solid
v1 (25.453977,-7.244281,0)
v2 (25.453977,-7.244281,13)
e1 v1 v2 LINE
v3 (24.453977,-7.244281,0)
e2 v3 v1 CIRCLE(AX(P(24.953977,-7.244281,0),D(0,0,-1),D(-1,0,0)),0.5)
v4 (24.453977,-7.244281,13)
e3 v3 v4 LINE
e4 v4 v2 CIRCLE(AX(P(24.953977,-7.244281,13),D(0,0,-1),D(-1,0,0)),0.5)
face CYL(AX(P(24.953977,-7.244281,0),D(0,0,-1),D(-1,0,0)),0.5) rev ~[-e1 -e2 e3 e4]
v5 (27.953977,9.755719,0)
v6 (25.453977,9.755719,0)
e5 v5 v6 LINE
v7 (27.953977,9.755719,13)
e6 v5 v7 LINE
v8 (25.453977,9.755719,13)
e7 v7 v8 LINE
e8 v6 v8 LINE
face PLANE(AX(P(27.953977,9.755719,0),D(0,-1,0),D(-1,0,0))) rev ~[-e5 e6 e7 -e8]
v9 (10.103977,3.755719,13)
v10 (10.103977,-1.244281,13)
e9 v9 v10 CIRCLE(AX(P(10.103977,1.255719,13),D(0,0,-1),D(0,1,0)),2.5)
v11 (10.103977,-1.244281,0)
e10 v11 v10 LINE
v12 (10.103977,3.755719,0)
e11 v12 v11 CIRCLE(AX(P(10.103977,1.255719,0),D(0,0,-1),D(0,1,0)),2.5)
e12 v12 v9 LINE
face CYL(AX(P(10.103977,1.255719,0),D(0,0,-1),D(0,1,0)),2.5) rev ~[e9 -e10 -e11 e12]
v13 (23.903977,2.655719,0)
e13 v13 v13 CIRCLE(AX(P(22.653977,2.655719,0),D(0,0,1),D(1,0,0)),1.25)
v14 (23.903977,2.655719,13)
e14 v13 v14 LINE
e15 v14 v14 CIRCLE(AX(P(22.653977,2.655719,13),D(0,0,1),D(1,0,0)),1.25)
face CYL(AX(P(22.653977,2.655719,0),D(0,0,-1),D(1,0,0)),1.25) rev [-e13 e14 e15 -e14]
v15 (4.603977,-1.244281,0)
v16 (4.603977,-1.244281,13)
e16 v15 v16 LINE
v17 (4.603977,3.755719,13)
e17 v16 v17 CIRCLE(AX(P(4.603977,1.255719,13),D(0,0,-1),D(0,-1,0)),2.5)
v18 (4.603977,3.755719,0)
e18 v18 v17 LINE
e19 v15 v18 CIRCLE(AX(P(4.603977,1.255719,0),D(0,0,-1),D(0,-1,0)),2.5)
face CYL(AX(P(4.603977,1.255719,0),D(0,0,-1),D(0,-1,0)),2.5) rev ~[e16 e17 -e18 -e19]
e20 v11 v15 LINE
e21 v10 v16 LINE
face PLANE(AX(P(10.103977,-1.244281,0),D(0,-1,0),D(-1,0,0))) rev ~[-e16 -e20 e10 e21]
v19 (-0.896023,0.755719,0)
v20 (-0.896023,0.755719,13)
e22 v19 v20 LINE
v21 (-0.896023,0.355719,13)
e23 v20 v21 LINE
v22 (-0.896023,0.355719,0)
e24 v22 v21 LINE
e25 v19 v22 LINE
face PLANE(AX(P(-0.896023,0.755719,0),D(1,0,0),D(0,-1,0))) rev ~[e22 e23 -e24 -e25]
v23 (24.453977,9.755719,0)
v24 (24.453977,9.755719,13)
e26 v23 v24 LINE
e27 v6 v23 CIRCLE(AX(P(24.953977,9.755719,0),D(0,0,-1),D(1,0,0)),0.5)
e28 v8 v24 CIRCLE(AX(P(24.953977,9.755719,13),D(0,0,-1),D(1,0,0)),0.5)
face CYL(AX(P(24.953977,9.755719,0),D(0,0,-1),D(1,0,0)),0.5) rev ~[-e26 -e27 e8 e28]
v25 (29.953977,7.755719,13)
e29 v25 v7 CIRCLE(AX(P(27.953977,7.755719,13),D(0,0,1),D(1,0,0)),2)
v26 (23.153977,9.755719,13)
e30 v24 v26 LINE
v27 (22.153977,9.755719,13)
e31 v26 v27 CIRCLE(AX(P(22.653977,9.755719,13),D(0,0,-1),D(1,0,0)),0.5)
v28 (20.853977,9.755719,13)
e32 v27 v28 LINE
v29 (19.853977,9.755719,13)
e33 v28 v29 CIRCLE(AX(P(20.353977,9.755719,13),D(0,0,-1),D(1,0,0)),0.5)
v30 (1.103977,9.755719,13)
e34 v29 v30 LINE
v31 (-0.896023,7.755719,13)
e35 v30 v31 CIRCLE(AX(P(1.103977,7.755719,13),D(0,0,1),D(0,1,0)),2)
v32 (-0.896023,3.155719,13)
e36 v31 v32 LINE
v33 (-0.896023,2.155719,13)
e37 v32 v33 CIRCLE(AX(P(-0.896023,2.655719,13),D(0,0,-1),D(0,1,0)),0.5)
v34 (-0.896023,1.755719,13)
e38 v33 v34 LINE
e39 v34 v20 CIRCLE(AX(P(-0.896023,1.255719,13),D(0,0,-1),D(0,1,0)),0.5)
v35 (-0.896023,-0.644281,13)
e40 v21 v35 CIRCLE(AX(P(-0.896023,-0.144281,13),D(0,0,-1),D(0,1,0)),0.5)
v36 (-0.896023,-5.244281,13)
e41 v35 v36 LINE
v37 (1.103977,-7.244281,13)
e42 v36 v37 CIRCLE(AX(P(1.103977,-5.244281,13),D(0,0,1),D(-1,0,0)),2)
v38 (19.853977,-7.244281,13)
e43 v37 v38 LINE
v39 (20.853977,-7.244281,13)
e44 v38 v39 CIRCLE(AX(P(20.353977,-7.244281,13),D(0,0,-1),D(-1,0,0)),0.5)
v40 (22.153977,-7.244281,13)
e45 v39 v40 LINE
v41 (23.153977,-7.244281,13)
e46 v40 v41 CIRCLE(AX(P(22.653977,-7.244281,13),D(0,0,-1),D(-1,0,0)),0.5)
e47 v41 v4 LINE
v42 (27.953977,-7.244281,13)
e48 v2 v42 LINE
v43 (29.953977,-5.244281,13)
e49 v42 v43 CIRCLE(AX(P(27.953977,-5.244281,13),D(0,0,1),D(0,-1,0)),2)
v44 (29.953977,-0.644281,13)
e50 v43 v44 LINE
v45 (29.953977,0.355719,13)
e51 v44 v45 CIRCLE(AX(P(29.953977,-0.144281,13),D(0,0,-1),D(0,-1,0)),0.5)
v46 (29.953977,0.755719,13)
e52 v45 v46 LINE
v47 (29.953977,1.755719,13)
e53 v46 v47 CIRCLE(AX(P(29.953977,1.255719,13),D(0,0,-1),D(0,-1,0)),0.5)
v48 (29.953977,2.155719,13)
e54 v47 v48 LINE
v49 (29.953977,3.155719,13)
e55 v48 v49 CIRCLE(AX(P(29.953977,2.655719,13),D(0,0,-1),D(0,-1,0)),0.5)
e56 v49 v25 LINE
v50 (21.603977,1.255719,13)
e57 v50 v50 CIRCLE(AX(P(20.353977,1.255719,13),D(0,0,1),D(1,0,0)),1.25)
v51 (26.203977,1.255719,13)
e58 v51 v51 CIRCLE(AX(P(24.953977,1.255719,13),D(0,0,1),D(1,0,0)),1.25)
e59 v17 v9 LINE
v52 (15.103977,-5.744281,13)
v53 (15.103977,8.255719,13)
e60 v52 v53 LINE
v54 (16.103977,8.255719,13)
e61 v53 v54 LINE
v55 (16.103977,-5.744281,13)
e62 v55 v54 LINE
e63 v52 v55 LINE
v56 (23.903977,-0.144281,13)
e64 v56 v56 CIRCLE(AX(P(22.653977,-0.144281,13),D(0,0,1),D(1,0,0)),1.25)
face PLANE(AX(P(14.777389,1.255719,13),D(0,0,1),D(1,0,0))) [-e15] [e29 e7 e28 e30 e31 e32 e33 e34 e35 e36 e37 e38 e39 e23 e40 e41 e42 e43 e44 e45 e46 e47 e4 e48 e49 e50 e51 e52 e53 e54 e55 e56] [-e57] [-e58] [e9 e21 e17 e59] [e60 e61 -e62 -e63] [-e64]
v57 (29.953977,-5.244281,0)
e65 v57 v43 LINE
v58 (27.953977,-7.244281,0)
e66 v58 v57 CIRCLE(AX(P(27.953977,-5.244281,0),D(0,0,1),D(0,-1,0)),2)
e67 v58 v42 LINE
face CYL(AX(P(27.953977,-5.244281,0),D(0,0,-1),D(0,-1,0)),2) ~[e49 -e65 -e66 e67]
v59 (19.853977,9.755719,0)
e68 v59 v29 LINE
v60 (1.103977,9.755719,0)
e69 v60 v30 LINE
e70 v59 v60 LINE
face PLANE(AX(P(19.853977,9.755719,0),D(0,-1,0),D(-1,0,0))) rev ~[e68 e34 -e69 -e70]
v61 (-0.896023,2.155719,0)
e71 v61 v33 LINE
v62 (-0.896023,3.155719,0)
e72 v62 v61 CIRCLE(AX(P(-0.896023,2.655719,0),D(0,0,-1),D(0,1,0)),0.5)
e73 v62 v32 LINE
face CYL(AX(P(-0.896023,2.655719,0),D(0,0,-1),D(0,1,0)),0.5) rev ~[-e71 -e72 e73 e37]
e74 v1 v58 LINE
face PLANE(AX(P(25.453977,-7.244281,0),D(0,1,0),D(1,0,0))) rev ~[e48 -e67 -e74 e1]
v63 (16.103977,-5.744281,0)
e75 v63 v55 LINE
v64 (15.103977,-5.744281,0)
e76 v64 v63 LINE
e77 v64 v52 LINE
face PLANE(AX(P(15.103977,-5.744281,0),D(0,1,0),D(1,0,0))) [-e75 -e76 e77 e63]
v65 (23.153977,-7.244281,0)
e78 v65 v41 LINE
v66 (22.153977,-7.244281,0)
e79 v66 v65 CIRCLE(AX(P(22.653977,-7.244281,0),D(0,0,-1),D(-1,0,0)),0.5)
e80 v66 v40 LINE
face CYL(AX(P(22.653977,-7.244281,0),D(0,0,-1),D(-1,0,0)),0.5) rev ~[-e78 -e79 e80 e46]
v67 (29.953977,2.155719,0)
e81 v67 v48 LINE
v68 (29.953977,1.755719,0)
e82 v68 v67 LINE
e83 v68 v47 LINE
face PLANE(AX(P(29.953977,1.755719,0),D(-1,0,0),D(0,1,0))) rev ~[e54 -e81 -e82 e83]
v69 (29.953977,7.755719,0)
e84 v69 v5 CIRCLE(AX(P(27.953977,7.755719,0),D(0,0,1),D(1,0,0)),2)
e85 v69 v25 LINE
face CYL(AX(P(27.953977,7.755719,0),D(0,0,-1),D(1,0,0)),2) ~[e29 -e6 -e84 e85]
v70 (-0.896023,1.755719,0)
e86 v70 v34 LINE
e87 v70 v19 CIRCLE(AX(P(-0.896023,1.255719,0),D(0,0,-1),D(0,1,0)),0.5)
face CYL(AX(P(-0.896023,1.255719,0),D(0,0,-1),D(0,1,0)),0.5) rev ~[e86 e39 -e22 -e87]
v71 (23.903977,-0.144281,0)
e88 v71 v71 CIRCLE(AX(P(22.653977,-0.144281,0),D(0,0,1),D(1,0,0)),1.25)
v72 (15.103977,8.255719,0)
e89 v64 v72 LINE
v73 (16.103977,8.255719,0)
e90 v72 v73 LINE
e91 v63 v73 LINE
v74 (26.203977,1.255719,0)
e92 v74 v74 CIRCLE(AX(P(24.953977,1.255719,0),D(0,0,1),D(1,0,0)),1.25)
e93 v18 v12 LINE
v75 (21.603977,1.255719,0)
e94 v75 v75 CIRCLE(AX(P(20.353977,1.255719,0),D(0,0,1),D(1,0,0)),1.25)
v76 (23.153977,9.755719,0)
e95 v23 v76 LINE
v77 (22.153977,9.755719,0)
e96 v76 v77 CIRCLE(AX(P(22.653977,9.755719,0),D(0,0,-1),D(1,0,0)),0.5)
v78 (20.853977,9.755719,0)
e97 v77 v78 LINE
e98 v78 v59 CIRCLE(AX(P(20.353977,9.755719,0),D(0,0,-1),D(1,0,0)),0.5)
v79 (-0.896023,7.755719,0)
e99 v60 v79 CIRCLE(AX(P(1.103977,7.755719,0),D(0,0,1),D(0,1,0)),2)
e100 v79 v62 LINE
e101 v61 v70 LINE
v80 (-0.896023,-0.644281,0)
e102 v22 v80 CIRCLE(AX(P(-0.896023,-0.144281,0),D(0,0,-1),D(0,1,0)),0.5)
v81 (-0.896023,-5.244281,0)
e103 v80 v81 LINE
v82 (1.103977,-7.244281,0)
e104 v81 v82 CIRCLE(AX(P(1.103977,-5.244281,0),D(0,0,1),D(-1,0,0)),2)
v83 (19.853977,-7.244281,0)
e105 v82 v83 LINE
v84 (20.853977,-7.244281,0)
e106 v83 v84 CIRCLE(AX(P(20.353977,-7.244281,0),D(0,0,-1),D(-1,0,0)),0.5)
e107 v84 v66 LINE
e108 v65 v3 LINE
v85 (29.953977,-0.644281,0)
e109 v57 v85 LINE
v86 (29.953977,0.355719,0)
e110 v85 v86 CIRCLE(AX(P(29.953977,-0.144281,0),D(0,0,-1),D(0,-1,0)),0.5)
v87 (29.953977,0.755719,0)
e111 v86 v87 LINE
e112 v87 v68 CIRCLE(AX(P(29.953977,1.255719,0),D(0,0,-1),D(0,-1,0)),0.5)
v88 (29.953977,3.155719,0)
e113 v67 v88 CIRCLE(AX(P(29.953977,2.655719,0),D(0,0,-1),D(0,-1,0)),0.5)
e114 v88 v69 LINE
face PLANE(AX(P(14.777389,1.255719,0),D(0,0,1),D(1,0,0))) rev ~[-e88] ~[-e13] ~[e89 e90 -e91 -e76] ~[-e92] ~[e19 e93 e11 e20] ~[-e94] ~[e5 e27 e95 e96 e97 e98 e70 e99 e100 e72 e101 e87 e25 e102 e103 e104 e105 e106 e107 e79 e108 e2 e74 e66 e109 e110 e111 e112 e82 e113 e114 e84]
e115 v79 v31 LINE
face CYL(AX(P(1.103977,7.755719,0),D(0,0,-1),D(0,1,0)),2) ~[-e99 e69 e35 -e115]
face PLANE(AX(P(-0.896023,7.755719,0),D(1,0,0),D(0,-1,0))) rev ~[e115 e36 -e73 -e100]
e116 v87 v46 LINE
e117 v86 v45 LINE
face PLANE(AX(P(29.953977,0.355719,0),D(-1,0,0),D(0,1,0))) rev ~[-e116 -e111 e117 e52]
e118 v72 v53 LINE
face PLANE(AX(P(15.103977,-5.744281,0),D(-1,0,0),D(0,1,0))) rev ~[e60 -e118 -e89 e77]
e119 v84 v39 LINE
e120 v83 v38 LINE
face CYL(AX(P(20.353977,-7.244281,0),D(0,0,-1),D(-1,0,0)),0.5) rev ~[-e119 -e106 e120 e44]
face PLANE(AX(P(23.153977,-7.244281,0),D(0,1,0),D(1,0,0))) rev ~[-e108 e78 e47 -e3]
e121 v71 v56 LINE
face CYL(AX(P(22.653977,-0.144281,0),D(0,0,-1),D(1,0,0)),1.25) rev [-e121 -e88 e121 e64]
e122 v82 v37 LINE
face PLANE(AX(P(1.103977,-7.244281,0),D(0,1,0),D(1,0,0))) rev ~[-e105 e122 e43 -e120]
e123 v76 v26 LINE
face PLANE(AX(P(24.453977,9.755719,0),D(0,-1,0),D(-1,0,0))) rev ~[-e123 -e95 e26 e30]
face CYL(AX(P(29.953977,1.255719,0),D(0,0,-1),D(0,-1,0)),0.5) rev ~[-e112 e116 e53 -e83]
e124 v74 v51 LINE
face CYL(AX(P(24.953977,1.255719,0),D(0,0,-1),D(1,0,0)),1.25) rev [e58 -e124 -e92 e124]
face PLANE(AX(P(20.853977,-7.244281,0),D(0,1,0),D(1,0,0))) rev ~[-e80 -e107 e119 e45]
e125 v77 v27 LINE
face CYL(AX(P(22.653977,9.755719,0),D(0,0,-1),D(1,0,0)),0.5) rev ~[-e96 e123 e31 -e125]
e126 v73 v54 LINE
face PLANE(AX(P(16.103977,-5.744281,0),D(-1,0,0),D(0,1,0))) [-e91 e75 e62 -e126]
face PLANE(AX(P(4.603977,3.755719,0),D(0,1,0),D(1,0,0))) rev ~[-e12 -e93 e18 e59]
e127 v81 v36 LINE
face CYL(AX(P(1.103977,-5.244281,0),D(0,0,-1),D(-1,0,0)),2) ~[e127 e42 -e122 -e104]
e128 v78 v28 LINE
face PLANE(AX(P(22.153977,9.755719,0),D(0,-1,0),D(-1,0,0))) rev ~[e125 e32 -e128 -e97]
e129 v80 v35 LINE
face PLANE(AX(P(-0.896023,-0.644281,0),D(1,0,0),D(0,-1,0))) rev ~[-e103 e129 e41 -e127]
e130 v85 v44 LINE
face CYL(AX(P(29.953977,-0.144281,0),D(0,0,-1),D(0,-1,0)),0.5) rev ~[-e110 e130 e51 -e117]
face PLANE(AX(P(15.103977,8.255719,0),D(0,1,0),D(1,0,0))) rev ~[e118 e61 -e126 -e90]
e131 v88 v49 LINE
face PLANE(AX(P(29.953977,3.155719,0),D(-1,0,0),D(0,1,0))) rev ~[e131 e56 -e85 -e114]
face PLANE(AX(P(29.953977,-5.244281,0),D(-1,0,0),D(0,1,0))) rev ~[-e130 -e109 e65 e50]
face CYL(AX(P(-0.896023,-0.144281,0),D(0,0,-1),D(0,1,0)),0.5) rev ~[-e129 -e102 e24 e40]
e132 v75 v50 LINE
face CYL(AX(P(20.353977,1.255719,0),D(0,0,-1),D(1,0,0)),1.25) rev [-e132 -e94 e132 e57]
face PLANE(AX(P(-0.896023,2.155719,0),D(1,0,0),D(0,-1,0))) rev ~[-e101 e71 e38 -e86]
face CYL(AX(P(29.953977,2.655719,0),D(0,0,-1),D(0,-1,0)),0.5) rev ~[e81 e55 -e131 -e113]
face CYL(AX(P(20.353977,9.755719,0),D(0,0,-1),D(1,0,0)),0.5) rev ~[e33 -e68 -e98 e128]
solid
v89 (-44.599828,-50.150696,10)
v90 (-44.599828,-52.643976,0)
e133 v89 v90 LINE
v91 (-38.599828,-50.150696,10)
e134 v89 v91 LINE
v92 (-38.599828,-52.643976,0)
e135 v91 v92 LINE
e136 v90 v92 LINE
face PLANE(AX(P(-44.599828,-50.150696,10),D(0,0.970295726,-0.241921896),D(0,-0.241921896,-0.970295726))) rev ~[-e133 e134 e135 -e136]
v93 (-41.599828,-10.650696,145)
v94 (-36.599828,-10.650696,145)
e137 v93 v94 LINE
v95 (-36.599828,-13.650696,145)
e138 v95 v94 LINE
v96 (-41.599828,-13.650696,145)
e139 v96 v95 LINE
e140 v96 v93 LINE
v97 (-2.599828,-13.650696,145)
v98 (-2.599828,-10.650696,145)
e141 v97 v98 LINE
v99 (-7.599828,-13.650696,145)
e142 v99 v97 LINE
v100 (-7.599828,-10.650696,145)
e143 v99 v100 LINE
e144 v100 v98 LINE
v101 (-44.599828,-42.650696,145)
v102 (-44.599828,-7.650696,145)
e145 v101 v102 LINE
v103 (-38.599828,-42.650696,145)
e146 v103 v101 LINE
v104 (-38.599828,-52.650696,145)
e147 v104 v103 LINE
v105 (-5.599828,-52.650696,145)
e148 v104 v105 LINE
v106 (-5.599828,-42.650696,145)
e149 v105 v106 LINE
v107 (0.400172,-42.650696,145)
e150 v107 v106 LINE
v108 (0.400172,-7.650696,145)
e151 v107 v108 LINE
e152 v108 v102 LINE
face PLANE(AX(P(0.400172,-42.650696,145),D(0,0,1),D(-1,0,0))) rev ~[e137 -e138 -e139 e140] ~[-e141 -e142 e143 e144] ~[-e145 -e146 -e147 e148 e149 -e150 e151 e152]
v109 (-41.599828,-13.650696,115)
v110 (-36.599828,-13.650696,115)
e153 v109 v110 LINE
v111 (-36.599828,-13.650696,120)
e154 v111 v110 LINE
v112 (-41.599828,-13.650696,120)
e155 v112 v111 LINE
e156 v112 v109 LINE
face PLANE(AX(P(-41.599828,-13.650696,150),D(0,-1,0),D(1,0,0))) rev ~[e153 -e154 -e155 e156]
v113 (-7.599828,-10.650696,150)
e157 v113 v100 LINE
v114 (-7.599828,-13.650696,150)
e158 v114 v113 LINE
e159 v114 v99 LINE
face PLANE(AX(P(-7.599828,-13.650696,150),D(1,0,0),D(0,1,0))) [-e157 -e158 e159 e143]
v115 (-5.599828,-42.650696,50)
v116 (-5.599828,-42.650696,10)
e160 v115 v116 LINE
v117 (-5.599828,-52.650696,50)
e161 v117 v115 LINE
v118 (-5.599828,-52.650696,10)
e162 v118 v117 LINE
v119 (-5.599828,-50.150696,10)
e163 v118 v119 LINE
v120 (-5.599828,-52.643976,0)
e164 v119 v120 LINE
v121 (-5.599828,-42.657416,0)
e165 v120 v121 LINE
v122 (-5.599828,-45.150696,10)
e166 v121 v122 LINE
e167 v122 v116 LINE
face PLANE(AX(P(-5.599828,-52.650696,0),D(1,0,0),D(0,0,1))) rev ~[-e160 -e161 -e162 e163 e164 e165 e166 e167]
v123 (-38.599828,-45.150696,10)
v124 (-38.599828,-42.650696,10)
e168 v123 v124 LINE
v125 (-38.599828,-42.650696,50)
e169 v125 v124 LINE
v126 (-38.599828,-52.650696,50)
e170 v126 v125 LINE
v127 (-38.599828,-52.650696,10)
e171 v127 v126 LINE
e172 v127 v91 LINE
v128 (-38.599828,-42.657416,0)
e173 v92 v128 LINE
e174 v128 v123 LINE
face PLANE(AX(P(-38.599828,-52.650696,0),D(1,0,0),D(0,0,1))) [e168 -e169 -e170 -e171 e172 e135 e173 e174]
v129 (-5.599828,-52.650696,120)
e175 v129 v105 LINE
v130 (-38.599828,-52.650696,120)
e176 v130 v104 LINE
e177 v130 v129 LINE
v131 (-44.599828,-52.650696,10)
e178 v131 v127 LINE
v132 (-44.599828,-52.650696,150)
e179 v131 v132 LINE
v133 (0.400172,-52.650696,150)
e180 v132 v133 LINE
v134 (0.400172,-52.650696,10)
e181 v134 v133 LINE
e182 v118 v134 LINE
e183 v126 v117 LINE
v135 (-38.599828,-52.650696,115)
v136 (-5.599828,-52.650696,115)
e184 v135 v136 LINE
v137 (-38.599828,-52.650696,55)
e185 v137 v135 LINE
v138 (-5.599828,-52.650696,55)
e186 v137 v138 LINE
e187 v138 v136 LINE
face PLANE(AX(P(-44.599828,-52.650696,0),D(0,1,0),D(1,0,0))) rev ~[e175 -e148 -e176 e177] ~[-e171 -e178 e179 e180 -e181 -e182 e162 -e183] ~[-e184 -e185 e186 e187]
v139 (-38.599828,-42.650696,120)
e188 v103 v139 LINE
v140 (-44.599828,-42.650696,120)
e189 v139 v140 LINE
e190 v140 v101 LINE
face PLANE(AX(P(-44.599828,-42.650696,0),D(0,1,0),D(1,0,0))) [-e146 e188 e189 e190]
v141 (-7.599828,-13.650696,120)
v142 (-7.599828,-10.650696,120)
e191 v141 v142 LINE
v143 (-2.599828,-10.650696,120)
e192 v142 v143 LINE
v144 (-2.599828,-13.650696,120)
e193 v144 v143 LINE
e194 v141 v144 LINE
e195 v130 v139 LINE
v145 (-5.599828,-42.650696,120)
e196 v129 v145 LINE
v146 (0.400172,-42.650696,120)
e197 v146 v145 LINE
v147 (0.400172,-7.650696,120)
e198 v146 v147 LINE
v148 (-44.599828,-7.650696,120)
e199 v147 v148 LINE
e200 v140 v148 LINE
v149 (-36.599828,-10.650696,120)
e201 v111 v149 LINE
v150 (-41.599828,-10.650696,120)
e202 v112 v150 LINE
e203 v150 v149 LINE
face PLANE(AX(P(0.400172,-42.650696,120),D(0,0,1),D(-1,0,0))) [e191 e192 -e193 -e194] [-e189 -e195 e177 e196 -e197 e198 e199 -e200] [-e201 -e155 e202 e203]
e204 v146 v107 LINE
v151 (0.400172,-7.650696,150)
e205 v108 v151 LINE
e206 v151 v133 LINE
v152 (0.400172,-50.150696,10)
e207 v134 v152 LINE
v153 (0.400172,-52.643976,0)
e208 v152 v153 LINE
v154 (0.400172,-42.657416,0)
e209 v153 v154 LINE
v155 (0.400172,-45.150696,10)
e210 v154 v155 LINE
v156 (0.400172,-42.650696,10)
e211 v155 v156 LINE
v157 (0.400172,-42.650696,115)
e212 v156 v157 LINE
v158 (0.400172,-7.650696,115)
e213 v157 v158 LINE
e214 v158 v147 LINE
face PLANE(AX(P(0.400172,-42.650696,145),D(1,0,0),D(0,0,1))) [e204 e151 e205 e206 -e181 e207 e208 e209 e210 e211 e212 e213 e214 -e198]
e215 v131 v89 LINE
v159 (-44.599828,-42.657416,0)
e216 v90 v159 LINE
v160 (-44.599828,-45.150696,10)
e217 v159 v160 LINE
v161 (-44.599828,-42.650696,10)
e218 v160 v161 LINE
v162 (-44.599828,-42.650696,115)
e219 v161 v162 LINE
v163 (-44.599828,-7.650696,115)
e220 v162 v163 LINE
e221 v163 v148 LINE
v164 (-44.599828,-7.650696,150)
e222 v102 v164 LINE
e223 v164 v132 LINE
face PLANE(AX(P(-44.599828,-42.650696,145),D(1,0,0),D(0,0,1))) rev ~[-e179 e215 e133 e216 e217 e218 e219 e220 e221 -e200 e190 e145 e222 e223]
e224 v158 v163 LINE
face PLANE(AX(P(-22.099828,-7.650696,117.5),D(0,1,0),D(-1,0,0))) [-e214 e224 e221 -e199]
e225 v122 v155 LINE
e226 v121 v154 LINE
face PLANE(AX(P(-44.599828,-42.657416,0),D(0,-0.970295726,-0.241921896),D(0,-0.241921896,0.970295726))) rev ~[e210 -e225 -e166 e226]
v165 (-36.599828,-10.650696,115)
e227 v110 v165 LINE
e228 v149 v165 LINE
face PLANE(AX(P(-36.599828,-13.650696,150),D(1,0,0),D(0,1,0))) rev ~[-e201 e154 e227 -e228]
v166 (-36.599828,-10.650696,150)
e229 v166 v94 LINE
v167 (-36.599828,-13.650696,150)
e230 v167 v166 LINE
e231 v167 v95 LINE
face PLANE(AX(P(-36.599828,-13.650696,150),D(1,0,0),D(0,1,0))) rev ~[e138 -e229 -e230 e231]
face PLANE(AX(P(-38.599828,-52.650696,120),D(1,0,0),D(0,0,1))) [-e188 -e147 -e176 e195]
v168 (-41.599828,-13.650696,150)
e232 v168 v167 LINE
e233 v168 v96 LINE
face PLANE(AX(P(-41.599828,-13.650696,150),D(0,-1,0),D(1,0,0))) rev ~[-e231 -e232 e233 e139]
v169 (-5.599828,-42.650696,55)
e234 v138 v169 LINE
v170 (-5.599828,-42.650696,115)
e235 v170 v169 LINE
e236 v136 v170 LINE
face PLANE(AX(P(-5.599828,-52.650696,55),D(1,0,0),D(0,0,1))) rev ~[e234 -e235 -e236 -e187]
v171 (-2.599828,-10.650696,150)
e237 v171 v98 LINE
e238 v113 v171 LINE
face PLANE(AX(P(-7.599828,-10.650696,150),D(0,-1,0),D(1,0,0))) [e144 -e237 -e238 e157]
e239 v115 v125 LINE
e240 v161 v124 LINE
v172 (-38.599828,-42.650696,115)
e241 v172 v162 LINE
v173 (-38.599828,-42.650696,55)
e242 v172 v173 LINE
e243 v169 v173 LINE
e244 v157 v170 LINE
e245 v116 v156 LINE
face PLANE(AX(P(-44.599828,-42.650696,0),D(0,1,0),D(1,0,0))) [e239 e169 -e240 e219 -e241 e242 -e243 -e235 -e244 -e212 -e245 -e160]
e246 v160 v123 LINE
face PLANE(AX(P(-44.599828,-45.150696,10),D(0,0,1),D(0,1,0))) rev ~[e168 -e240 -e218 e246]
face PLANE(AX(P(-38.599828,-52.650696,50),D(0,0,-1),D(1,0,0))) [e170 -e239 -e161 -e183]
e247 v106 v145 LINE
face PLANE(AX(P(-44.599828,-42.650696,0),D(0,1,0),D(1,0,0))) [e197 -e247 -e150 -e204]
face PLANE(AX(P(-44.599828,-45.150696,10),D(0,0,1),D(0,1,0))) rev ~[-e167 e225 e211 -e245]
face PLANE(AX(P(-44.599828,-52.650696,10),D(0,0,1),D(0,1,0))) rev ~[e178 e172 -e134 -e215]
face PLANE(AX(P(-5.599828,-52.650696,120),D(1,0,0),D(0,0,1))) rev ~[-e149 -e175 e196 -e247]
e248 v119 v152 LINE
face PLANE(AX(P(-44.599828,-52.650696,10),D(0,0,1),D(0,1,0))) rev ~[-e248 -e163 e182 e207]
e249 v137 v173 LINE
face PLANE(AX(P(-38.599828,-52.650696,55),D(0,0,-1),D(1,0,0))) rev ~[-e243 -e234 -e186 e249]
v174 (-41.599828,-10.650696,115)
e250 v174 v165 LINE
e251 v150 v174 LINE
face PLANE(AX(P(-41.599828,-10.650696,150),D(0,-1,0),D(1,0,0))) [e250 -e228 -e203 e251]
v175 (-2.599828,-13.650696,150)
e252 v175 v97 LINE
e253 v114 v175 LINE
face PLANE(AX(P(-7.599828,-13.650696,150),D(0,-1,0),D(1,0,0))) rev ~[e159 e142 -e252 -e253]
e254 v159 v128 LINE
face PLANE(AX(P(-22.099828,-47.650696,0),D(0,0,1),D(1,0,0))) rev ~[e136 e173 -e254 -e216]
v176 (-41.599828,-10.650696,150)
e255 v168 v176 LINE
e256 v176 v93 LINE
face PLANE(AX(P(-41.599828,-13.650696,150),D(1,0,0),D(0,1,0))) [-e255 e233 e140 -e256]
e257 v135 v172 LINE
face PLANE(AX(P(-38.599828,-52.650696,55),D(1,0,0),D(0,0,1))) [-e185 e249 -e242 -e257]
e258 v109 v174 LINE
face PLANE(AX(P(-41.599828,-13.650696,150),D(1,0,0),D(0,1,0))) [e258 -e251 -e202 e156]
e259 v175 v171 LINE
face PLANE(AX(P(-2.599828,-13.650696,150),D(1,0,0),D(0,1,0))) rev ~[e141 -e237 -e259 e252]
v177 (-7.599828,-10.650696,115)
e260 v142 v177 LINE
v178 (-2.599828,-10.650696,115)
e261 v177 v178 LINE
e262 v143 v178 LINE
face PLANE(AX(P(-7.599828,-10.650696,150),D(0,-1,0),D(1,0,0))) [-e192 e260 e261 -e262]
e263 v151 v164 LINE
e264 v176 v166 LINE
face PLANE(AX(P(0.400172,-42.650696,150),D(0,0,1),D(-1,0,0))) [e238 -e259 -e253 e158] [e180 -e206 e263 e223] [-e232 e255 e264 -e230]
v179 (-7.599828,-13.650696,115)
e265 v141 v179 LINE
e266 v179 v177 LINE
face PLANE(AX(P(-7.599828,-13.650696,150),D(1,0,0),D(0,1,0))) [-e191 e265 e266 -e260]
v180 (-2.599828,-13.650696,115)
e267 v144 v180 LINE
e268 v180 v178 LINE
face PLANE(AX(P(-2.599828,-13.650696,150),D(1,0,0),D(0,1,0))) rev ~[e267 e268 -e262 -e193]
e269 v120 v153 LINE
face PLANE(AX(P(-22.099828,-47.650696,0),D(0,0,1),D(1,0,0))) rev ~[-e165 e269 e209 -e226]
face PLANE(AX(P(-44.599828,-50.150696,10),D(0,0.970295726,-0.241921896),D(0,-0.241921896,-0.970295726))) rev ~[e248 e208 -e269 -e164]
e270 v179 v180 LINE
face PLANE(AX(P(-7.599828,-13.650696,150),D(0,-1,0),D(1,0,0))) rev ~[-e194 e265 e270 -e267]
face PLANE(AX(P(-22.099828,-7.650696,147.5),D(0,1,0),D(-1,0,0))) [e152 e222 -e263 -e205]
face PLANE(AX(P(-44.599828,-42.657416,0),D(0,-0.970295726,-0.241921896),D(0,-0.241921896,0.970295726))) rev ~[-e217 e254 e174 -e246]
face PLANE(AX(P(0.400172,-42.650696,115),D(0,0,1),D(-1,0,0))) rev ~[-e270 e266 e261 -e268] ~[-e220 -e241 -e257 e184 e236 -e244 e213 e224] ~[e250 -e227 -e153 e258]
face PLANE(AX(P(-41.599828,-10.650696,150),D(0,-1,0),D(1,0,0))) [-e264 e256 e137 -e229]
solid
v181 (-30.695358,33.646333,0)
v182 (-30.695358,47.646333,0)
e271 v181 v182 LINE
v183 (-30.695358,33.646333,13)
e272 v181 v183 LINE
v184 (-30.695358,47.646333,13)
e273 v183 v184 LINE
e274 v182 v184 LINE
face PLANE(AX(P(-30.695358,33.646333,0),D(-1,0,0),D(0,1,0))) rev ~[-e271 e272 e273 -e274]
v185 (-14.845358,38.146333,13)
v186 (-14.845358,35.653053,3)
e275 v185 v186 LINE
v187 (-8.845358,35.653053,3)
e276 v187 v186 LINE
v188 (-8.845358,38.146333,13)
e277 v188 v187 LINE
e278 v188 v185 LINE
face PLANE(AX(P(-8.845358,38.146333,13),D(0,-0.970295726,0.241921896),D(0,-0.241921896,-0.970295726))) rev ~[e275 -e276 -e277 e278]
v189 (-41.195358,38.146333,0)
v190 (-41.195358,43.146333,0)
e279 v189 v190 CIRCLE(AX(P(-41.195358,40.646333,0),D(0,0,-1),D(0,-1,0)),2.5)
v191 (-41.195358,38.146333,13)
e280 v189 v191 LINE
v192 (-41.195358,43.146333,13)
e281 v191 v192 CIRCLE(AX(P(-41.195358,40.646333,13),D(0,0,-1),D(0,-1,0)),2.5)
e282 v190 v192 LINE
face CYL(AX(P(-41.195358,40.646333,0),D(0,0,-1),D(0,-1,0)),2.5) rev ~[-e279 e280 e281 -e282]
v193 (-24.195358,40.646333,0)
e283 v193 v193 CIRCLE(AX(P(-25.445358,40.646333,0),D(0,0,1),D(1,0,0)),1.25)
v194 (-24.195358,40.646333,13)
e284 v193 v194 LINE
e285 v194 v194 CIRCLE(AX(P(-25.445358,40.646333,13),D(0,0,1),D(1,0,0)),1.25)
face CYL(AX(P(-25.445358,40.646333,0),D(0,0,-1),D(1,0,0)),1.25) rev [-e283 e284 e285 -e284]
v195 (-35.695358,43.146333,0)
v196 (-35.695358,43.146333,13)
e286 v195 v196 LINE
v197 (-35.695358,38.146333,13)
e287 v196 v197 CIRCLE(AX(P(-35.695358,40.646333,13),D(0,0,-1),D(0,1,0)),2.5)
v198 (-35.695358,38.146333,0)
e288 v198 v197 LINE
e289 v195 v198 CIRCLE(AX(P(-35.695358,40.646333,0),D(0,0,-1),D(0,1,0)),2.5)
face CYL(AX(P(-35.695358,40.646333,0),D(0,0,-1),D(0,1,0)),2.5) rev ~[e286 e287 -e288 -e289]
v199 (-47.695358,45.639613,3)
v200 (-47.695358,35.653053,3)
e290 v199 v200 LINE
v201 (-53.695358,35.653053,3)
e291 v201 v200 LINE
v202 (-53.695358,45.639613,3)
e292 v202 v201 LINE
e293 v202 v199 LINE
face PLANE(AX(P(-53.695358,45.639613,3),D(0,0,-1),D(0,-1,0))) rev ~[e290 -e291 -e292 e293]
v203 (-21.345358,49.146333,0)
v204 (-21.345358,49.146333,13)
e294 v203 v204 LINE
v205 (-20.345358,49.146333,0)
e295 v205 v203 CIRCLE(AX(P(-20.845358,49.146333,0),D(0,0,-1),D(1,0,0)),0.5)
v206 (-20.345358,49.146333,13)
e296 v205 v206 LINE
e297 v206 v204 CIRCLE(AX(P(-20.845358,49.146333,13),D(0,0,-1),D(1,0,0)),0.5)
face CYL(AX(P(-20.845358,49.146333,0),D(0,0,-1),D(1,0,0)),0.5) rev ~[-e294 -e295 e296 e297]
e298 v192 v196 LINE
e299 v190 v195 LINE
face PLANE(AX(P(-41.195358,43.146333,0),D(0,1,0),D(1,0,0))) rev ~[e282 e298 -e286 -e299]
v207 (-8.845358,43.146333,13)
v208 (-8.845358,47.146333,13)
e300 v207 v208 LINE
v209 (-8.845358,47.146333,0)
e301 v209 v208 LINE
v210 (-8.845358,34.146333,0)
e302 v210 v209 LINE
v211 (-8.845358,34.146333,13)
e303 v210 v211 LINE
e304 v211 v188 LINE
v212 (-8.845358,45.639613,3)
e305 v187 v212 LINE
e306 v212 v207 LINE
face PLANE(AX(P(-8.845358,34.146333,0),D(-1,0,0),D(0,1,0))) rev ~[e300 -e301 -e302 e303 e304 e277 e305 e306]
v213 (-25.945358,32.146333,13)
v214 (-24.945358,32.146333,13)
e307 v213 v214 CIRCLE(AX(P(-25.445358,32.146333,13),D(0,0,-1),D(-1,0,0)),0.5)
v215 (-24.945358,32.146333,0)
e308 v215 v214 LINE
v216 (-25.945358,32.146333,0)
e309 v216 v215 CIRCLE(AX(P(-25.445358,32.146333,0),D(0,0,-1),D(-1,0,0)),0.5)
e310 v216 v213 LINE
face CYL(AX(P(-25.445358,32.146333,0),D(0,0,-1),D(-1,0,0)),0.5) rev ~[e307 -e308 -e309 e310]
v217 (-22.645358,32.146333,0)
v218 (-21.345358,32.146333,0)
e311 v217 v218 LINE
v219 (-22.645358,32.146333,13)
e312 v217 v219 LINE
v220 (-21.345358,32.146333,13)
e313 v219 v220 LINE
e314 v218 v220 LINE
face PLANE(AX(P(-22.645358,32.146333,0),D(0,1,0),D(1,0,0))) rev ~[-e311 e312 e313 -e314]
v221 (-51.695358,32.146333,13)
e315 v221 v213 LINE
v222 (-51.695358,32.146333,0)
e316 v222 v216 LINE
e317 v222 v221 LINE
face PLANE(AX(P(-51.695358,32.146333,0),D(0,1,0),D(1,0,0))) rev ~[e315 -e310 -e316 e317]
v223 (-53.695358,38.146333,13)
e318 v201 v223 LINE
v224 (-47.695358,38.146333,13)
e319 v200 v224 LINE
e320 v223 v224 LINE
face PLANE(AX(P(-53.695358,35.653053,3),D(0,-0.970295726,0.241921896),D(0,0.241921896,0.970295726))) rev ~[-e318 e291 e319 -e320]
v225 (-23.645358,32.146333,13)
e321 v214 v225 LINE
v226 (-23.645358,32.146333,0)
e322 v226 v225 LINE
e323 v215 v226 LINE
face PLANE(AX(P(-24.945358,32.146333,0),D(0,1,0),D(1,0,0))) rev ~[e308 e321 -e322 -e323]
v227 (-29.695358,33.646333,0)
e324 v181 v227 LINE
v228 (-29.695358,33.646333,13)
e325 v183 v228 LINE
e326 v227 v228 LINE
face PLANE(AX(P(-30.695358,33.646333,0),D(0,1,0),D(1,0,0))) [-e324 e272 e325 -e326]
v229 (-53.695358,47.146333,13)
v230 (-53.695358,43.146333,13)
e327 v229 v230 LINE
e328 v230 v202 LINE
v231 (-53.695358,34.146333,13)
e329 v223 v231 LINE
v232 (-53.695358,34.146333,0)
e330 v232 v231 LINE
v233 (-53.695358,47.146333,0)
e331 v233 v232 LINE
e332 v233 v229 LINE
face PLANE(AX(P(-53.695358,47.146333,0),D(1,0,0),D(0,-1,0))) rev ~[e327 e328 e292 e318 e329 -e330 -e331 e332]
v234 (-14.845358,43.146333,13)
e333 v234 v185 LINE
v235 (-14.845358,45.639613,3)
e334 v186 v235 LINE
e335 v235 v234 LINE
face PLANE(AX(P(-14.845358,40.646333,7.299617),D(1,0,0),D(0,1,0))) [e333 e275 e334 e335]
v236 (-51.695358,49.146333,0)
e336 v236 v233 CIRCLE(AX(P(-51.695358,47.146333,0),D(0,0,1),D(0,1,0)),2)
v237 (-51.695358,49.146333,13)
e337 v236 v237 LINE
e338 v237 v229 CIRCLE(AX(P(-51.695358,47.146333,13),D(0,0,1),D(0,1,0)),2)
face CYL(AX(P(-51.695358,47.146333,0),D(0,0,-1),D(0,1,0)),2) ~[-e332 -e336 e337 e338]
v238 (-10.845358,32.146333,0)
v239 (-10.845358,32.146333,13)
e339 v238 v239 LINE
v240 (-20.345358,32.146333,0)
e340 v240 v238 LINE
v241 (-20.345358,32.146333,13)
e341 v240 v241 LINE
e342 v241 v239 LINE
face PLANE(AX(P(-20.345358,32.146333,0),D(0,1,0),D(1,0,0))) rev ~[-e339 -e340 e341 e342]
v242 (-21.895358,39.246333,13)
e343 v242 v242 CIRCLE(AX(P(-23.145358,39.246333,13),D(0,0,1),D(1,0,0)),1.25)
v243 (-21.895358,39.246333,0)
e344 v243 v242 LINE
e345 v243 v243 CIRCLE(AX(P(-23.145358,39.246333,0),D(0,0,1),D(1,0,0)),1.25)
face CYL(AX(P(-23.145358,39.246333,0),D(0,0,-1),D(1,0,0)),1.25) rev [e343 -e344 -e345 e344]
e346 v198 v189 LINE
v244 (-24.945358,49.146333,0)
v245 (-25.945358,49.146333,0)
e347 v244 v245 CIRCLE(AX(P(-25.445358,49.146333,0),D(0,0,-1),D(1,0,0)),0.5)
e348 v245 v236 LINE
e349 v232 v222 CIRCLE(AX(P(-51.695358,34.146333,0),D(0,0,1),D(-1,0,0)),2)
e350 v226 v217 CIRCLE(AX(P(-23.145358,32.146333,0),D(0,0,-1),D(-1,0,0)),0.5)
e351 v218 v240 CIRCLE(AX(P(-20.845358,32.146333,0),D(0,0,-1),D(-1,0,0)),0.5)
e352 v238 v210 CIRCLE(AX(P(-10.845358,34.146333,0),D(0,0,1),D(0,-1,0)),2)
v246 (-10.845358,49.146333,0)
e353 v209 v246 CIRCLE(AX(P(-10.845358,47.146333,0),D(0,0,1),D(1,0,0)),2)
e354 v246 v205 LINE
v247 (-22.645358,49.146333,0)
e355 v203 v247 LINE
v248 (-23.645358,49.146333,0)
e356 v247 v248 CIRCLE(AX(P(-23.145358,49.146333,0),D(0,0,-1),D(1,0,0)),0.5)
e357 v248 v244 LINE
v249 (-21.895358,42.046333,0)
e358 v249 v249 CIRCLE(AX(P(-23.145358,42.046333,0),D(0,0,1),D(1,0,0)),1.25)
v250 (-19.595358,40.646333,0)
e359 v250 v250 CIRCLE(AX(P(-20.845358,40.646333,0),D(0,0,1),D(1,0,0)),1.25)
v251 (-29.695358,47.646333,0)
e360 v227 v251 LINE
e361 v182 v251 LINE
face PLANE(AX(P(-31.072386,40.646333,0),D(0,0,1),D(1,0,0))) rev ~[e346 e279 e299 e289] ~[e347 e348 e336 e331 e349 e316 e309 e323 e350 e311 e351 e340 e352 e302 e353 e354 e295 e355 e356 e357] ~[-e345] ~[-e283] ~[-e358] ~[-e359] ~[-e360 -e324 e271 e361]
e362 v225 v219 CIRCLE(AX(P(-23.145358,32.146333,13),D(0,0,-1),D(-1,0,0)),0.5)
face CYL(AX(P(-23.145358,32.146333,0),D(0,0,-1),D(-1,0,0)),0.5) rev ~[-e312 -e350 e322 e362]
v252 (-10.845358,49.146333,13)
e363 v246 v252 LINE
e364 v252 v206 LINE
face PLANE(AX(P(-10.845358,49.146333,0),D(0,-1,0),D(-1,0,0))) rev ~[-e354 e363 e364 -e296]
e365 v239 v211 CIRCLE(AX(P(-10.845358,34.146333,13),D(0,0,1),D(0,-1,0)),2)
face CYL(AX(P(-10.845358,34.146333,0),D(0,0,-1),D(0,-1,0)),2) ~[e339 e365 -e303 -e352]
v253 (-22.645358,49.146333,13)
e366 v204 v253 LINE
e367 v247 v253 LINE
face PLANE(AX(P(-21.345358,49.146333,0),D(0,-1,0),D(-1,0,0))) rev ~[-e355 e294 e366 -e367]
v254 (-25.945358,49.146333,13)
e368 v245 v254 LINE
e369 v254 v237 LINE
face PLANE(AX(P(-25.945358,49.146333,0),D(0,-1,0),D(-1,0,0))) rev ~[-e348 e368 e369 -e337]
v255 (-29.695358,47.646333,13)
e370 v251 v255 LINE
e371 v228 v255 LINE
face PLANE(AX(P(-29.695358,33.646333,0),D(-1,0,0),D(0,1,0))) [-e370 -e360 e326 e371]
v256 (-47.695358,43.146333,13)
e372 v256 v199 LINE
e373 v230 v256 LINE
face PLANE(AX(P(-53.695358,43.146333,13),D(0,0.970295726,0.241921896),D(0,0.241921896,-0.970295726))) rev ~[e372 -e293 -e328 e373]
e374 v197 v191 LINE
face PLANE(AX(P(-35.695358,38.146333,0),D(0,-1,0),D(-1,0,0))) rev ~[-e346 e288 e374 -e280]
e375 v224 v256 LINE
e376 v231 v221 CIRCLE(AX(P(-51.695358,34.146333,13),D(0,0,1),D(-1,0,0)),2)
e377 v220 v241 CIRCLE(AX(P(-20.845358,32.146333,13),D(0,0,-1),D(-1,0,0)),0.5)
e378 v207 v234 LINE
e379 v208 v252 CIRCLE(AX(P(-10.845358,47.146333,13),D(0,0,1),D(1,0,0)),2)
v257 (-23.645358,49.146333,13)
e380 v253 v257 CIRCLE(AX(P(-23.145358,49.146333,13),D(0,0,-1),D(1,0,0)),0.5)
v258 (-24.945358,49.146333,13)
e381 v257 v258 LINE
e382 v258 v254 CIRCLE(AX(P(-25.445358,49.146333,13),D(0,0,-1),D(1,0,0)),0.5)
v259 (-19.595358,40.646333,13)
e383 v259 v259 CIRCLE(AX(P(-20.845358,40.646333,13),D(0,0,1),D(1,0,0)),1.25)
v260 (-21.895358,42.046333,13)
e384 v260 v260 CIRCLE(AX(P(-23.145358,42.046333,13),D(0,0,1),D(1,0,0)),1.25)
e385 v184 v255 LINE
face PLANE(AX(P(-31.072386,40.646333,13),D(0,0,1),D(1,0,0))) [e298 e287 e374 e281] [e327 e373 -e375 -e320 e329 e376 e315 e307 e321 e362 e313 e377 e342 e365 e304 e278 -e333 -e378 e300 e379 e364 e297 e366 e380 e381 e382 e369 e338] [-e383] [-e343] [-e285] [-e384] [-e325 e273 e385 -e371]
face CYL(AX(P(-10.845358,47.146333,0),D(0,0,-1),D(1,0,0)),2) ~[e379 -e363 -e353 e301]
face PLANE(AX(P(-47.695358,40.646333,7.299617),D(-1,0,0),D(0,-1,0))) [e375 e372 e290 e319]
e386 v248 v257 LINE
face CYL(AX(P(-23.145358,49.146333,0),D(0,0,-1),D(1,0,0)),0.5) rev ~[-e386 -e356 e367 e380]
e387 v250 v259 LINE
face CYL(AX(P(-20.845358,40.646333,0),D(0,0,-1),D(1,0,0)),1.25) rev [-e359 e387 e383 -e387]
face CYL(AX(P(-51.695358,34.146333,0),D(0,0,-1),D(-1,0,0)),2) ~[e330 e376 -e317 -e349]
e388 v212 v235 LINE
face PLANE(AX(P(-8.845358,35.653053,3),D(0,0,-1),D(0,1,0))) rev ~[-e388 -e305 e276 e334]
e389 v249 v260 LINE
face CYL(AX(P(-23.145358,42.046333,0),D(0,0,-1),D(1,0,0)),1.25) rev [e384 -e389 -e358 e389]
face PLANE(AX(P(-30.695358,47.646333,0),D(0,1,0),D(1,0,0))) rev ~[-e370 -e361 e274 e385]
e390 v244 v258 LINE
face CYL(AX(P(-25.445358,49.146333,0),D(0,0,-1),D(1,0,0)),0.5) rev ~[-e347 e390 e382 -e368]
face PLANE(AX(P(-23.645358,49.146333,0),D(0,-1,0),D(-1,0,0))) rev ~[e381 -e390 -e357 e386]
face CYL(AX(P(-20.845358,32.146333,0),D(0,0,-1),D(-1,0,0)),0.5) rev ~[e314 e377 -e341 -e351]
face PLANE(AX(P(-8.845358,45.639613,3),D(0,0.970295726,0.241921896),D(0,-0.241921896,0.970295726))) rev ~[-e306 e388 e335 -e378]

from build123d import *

# Parameters (mm, degrees)
F0_W      = 1
F0_H      = 14
F0_R      = 1.25
F1_DEPTH  = 13
F2_R      = 1.25
F2_W      = 1
F2_H      = 14
F3_DEPTH  = 13
F5_DEPTH  = 6
F7_DEPTH  = 6
F8_W      = 45
F8_H      = 10
F9_DEPTH  = 150
F11_DEPTH = 74.5548050561
F12_W     = 33
F12_H     = 50
F12_H_2   = 60
F12_H_3   = 25
F13_DEPTH = 101.7980283996
F14_W     = 45
F14_H     = 5
F15_DEPTH = 35
F16_W     = 5
F16_H     = 3
F17_DEPTH = 35


with BuildPart() as f1:
    # F0 (on Top) → F1 (new body)
    with BuildSketch(Plane.XY):
        with BuildLine():
            Line((19.8539771741, 9.7557189554), (1.1039771741, 9.7557189554))
            ThreePointArc((1.1039771741, 9.7557189554), (-0.3102363882, 9.1699325178), (-0.8960228259, 7.7557189554))
            Line((-0.8960228259, 7.7557189554), (-0.8960228259, 3.1557189554))
            ThreePointArc((-0.8960228259, 3.1557189554), (-0.3960228259, 2.6557189554), (-0.8960228259, 2.1557189554))
            Line((-0.8960228259, 2.1557189554), (-0.8960228259, 1.7557189554))
            ThreePointArc((-0.8960228259, 1.7557189554), (-0.3960228259, 1.2557189554), (-0.8960228259, 0.7557189554))
            Line((-0.8960228259, 0.7557189554), (-0.8960228259, 0.3557189554))
            ThreePointArc((-0.8960228259, 0.3557189554), (-0.3960228259, -0.1442810446), (-0.8960228259, -0.6442810446))
            Line((-0.8960228259, -0.6442810446), (-0.8960228259, -5.2442810446))
            ThreePointArc((-0.8960228259, -5.2442810446), (-0.3102363882, -6.658494607), (1.1039771741, -7.2442810446))
            Line((1.1039771741, -7.2442810446), (19.8539771741, -7.2442810446))
            ThreePointArc((19.8539771741, -7.2442810446), (20.3539771741, -6.7442810446), (20.8539771741, -7.2442810446))
            Line((20.8539771741, -7.2442810446), (22.1539771741, -7.2442810446))
            ThreePointArc((22.1539771741, -7.2442810446), (22.6539771741, -6.7442810446), (23.1539771741, -7.2442810446))
            Line((23.1539771741, -7.2442810446), (24.4539771741, -7.2442810446))
            ThreePointArc((24.4539771741, -7.2442810446), (24.9539771741, -6.7442810446), (25.4539771741, -7.2442810446))
            Line((25.4539771741, -7.2442810446), (27.9539771741, -7.2442810446))
            ThreePointArc((27.9539771741, -7.2442810446), (29.3681907365, -6.658494607), (29.9539771741, -5.2442810446))
            Line((29.9539771741, -5.2442810446), (29.9539771741, -0.6442810446))
            ThreePointArc((29.9539771741, -0.6442810446), (29.4539771741, -0.1442810446), (29.9539771741, 0.3557189554))
            Line((29.9539771741, 0.3557189554), (29.9539771741, 0.7557189554))
            ThreePointArc((29.9539771741, 0.7557189554), (29.4539771741, 1.2557189554), (29.9539771741, 1.7557189554))
            Line((29.9539771741, 1.7557189554), (29.9539771741, 2.1557189554))
            ThreePointArc((29.9539771741, 2.1557189554), (29.4539771741, 2.6557189554), (29.9539771741, 3.1557189554))
            Line((29.9539771741, 3.1557189554), (29.9539771741, 7.7557189554))
            ThreePointArc((29.9539771741, 7.7557189554), (29.3681907365, 9.1699325178), (27.9539771741, 9.7557189554))
            Line((27.9539771741, 9.7557189554), (25.4539771741, 9.7557189554))
            ThreePointArc((25.4539771741, 9.7557189554), (24.9539771741, 9.2557189554), (24.4539771741, 9.7557189554))
            Line((24.4539771741, 9.7557189554), (23.1539771741, 9.7557189554))
            ThreePointArc((23.1539771741, 9.7557189554), (22.6539771741, 9.2557189554), (22.1539771741, 9.7557189554))
            Line((22.1539771741, 9.7557189554), (20.8539771741, 9.7557189554))
            ThreePointArc((20.8539771741, 9.7557189554), (20.3539771741, 9.2557189554), (19.8539771741, 9.7557189554))
        make_face()
        with Locations((15.6039771741, 1.2557189554)):
            Rectangle(F0_W, F0_H, mode=Mode.SUBTRACT)
        with Locations((20.3539771741, 1.2557189554)):
            Circle(F0_R, mode=Mode.SUBTRACT)
        with Locations((22.6539771741, -0.1442810446)):
            Circle(F0_R, mode=Mode.SUBTRACT)
        with Locations((24.9539771741, 1.2557189554)):
            Circle(F0_R, mode=Mode.SUBTRACT)
        with BuildLine():
            ThreePointArc((10.1039771741, 3.7557189554), (12.6039771741, 1.2557189554), (10.1039771741, -1.2442810446))
            Line((10.1039771741, -1.2442810446), (4.6039771741, -1.2442810446))
            ThreePointArc((4.6039771741, -1.2442810446), (2.1039771741, 1.2557189554), (4.6039771741, 3.7557189554))
            Line((4.6039771741, 3.7557189554), (10.1039771741, 3.7557189554))
        make_face(mode=Mode.SUBTRACT)
        with Locations((22.6539771741, 2.6557189554)):
            Circle(F0_R, mode=Mode.SUBTRACT)
    extrude(amount=F1_DEPTH)


with BuildPart() as f3:
    # F2 (on Top) → F3 (new body)
    with BuildSketch(Plane.XY):
        with BuildLine():
            ThreePointArc((-53.695358336, 34.1463327818), (-53.1095718983, 32.7321192194), (-51.695358336, 32.1463327818))
            Line((-51.695358336, 32.1463327818), (-25.945358336, 32.1463327818))
            ThreePointArc((-25.945358336, 32.1463327818), (-25.445358336, 32.6463327818), (-24.945358336, 32.1463327818))
            Line((-24.945358336, 32.1463327818), (-23.645358336, 32.1463327818))
            ThreePointArc((-23.645358336, 32.1463327818), (-23.145358336, 32.6463327818), (-22.645358336, 32.1463327818))
            Line((-22.645358336, 32.1463327818), (-21.345358336, 32.1463327818))
            ThreePointArc((-21.345358336, 32.1463327818), (-20.845358336, 32.6463327818), (-20.345358336, 32.1463327818))
            Line((-20.345358336, 32.1463327818), (-10.845358336, 32.1463327818))
            ThreePointArc((-10.845358336, 32.1463327818), (-9.4311447736, 32.7321192194), (-8.845358336, 34.1463327818))
            Line((-8.845358336, 34.1463327818), (-8.845358336, 47.1463327818))
            ThreePointArc((-8.845358336, 47.1463327818), (-9.4311447736, 48.5605463441), (-10.845358336, 49.1463327818))
            Line((-10.845358336, 49.1463327818), (-20.345358336, 49.1463327818))
            ThreePointArc((-20.345358336, 49.1463327818), (-20.845358336, 48.6463327818), (-21.345358336, 49.1463327818))
            Line((-21.345358336, 49.1463327818), (-22.645358336, 49.1463327818))
            ThreePointArc((-22.645358336, 49.1463327818), (-23.145358336, 48.6463327818), (-23.645358336, 49.1463327818))
            Line((-23.645358336, 49.1463327818), (-24.945358336, 49.1463327818))
            ThreePointArc((-24.945358336, 49.1463327818), (-25.445358336, 48.6463327818), (-25.945358336, 49.1463327818))
            Line((-25.945358336, 49.1463327818), (-51.695358336, 49.1463327818))
            ThreePointArc((-51.695358336, 49.1463327818), (-53.1095718983, 48.5605463441), (-53.695358336, 47.1463327818))
            Line((-53.695358336, 47.1463327818), (-53.695358336, 34.1463327818))
        make_face()
        with Locations((-23.145358336, 39.2463327818)):
            Circle(F2_R, mode=Mode.SUBTRACT)
        with Locations((-25.445358336, 40.6463327818)):
            Circle(F2_R, mode=Mode.SUBTRACT)
        with Locations((-20.845358336, 40.6463327818)):
            Circle(F2_R, mode=Mode.SUBTRACT)
        with BuildLine():
            ThreePointArc((-41.195358336, 38.1463327818), (-43.695358336, 40.6463327818), (-41.195358336, 43.1463327818))
            Line((-41.195358336, 43.1463327818), (-35.695358336, 43.1463327818))
            ThreePointArc((-35.695358336, 43.1463327818), (-33.195358336, 40.6463327818), (-35.695358336, 38.1463327818))
            Line((-35.695358336, 38.1463327818), (-41.195358336, 38.1463327818))
        make_face(mode=Mode.SUBTRACT)
        with Locations((-30.195358336, 40.6463327818)):
            Rectangle(F2_W, F2_H, mode=Mode.SUBTRACT)
        with Locations((-23.145358336, 42.0463327818)):
            Circle(F2_R, mode=Mode.SUBTRACT)
    extrude(amount=F3_DEPTH)

    # F4 (on face) → F5 (cut)
    with BuildSketch(Plane.YZ.offset(-8.845358336)):
        Polygon((43.1463327818, 13), (38.1463327818, 13), (35.6530527533, 3), (45.6396128102, 3), align=None)
    extrude(amount=-F5_DEPTH, mode=Mode.SUBTRACT)

    # F6 (on face) → F7 (cut)
    with BuildSketch(Plane(origin=(-53.695358336, 0, 0), x_dir=(0, -1, 0), z_dir=(-1, 0, 0))):
        Polygon((-38.1463327818, 13), (-43.1463327818, 13), (-45.6396128102, 3), (-35.6530527533, 3), align=None)
    extrude(amount=-F7_DEPTH, mode=Mode.SUBTRACT)


with BuildPart() as f9:
    # F8 (on Top) → F9 (new body)
    with BuildSketch(Plane.XY):
        with Locations((-22.0998278819, -47.6506956178)):
            Rectangle(F8_W, F8_H)
    extrude(amount=F9_DEPTH)

    # F10 (on face) → F11 (cut, through all)
    with BuildSketch(Plane(origin=(-44.5998278819, 0, 0), x_dir=(0, -1, 0), z_dir=(-1, 0, 0))):
        Polygon((42.6506956178, 0), (42.6574155894, 0), (45.1506956178, 10), (42.6506956178, 10), align=None)
        Polygon((50.1506956178, 10), (52.6439756462, 0), (52.6506956178, 0), (52.6506956178, 10), align=None)
    extrude(amount=-F11_DEPTH, mode=Mode.SUBTRACT)

    # F12 (on face) → F13 (cut, through all)
    with BuildSketch(Plane.XZ.offset(52.6506956178)):
        with Locations((-22.0998278819, 25)):
            Rectangle(F12_W, F12_H)
        with Locations((-22.0998278819, 85)):
            Rectangle(F12_W, F12_H_2)
        with Locations((-22.0998278819, 132.5)):
            Rectangle(F12_W, F12_H_3)
    extrude(amount=-F13_DEPTH, mode=Mode.SUBTRACT)

    # F14 (on face) → F15 (join)
    with BuildSketch(Plane(origin=(0, -42.6506956178, 0), x_dir=(-1, 0, 0), z_dir=(0, 1, 0))):
        with Locations((22.0998278819, 147.5)):
            Rectangle(F14_W, F14_H)
        with Locations((22.0998278819, 117.5)):
            Rectangle(F14_W, F14_H)
    extrude(amount=F15_DEPTH)

    # F16 (on face) → F17 (cut, through all)
    with BuildSketch(Plane.XY.offset(150)):
        with Locations((-39.0998278819, -12.1506956178)):
            Rectangle(F16_W, F16_H)
        with Locations((-5.0998278819, -12.1506956178)):
            Rectangle(F16_W, F16_H)
    extrude(amount=-F17_DEPTH, mode=Mode.SUBTRACT)


solid = Compound([f1.part, f3.part, f9.part])
